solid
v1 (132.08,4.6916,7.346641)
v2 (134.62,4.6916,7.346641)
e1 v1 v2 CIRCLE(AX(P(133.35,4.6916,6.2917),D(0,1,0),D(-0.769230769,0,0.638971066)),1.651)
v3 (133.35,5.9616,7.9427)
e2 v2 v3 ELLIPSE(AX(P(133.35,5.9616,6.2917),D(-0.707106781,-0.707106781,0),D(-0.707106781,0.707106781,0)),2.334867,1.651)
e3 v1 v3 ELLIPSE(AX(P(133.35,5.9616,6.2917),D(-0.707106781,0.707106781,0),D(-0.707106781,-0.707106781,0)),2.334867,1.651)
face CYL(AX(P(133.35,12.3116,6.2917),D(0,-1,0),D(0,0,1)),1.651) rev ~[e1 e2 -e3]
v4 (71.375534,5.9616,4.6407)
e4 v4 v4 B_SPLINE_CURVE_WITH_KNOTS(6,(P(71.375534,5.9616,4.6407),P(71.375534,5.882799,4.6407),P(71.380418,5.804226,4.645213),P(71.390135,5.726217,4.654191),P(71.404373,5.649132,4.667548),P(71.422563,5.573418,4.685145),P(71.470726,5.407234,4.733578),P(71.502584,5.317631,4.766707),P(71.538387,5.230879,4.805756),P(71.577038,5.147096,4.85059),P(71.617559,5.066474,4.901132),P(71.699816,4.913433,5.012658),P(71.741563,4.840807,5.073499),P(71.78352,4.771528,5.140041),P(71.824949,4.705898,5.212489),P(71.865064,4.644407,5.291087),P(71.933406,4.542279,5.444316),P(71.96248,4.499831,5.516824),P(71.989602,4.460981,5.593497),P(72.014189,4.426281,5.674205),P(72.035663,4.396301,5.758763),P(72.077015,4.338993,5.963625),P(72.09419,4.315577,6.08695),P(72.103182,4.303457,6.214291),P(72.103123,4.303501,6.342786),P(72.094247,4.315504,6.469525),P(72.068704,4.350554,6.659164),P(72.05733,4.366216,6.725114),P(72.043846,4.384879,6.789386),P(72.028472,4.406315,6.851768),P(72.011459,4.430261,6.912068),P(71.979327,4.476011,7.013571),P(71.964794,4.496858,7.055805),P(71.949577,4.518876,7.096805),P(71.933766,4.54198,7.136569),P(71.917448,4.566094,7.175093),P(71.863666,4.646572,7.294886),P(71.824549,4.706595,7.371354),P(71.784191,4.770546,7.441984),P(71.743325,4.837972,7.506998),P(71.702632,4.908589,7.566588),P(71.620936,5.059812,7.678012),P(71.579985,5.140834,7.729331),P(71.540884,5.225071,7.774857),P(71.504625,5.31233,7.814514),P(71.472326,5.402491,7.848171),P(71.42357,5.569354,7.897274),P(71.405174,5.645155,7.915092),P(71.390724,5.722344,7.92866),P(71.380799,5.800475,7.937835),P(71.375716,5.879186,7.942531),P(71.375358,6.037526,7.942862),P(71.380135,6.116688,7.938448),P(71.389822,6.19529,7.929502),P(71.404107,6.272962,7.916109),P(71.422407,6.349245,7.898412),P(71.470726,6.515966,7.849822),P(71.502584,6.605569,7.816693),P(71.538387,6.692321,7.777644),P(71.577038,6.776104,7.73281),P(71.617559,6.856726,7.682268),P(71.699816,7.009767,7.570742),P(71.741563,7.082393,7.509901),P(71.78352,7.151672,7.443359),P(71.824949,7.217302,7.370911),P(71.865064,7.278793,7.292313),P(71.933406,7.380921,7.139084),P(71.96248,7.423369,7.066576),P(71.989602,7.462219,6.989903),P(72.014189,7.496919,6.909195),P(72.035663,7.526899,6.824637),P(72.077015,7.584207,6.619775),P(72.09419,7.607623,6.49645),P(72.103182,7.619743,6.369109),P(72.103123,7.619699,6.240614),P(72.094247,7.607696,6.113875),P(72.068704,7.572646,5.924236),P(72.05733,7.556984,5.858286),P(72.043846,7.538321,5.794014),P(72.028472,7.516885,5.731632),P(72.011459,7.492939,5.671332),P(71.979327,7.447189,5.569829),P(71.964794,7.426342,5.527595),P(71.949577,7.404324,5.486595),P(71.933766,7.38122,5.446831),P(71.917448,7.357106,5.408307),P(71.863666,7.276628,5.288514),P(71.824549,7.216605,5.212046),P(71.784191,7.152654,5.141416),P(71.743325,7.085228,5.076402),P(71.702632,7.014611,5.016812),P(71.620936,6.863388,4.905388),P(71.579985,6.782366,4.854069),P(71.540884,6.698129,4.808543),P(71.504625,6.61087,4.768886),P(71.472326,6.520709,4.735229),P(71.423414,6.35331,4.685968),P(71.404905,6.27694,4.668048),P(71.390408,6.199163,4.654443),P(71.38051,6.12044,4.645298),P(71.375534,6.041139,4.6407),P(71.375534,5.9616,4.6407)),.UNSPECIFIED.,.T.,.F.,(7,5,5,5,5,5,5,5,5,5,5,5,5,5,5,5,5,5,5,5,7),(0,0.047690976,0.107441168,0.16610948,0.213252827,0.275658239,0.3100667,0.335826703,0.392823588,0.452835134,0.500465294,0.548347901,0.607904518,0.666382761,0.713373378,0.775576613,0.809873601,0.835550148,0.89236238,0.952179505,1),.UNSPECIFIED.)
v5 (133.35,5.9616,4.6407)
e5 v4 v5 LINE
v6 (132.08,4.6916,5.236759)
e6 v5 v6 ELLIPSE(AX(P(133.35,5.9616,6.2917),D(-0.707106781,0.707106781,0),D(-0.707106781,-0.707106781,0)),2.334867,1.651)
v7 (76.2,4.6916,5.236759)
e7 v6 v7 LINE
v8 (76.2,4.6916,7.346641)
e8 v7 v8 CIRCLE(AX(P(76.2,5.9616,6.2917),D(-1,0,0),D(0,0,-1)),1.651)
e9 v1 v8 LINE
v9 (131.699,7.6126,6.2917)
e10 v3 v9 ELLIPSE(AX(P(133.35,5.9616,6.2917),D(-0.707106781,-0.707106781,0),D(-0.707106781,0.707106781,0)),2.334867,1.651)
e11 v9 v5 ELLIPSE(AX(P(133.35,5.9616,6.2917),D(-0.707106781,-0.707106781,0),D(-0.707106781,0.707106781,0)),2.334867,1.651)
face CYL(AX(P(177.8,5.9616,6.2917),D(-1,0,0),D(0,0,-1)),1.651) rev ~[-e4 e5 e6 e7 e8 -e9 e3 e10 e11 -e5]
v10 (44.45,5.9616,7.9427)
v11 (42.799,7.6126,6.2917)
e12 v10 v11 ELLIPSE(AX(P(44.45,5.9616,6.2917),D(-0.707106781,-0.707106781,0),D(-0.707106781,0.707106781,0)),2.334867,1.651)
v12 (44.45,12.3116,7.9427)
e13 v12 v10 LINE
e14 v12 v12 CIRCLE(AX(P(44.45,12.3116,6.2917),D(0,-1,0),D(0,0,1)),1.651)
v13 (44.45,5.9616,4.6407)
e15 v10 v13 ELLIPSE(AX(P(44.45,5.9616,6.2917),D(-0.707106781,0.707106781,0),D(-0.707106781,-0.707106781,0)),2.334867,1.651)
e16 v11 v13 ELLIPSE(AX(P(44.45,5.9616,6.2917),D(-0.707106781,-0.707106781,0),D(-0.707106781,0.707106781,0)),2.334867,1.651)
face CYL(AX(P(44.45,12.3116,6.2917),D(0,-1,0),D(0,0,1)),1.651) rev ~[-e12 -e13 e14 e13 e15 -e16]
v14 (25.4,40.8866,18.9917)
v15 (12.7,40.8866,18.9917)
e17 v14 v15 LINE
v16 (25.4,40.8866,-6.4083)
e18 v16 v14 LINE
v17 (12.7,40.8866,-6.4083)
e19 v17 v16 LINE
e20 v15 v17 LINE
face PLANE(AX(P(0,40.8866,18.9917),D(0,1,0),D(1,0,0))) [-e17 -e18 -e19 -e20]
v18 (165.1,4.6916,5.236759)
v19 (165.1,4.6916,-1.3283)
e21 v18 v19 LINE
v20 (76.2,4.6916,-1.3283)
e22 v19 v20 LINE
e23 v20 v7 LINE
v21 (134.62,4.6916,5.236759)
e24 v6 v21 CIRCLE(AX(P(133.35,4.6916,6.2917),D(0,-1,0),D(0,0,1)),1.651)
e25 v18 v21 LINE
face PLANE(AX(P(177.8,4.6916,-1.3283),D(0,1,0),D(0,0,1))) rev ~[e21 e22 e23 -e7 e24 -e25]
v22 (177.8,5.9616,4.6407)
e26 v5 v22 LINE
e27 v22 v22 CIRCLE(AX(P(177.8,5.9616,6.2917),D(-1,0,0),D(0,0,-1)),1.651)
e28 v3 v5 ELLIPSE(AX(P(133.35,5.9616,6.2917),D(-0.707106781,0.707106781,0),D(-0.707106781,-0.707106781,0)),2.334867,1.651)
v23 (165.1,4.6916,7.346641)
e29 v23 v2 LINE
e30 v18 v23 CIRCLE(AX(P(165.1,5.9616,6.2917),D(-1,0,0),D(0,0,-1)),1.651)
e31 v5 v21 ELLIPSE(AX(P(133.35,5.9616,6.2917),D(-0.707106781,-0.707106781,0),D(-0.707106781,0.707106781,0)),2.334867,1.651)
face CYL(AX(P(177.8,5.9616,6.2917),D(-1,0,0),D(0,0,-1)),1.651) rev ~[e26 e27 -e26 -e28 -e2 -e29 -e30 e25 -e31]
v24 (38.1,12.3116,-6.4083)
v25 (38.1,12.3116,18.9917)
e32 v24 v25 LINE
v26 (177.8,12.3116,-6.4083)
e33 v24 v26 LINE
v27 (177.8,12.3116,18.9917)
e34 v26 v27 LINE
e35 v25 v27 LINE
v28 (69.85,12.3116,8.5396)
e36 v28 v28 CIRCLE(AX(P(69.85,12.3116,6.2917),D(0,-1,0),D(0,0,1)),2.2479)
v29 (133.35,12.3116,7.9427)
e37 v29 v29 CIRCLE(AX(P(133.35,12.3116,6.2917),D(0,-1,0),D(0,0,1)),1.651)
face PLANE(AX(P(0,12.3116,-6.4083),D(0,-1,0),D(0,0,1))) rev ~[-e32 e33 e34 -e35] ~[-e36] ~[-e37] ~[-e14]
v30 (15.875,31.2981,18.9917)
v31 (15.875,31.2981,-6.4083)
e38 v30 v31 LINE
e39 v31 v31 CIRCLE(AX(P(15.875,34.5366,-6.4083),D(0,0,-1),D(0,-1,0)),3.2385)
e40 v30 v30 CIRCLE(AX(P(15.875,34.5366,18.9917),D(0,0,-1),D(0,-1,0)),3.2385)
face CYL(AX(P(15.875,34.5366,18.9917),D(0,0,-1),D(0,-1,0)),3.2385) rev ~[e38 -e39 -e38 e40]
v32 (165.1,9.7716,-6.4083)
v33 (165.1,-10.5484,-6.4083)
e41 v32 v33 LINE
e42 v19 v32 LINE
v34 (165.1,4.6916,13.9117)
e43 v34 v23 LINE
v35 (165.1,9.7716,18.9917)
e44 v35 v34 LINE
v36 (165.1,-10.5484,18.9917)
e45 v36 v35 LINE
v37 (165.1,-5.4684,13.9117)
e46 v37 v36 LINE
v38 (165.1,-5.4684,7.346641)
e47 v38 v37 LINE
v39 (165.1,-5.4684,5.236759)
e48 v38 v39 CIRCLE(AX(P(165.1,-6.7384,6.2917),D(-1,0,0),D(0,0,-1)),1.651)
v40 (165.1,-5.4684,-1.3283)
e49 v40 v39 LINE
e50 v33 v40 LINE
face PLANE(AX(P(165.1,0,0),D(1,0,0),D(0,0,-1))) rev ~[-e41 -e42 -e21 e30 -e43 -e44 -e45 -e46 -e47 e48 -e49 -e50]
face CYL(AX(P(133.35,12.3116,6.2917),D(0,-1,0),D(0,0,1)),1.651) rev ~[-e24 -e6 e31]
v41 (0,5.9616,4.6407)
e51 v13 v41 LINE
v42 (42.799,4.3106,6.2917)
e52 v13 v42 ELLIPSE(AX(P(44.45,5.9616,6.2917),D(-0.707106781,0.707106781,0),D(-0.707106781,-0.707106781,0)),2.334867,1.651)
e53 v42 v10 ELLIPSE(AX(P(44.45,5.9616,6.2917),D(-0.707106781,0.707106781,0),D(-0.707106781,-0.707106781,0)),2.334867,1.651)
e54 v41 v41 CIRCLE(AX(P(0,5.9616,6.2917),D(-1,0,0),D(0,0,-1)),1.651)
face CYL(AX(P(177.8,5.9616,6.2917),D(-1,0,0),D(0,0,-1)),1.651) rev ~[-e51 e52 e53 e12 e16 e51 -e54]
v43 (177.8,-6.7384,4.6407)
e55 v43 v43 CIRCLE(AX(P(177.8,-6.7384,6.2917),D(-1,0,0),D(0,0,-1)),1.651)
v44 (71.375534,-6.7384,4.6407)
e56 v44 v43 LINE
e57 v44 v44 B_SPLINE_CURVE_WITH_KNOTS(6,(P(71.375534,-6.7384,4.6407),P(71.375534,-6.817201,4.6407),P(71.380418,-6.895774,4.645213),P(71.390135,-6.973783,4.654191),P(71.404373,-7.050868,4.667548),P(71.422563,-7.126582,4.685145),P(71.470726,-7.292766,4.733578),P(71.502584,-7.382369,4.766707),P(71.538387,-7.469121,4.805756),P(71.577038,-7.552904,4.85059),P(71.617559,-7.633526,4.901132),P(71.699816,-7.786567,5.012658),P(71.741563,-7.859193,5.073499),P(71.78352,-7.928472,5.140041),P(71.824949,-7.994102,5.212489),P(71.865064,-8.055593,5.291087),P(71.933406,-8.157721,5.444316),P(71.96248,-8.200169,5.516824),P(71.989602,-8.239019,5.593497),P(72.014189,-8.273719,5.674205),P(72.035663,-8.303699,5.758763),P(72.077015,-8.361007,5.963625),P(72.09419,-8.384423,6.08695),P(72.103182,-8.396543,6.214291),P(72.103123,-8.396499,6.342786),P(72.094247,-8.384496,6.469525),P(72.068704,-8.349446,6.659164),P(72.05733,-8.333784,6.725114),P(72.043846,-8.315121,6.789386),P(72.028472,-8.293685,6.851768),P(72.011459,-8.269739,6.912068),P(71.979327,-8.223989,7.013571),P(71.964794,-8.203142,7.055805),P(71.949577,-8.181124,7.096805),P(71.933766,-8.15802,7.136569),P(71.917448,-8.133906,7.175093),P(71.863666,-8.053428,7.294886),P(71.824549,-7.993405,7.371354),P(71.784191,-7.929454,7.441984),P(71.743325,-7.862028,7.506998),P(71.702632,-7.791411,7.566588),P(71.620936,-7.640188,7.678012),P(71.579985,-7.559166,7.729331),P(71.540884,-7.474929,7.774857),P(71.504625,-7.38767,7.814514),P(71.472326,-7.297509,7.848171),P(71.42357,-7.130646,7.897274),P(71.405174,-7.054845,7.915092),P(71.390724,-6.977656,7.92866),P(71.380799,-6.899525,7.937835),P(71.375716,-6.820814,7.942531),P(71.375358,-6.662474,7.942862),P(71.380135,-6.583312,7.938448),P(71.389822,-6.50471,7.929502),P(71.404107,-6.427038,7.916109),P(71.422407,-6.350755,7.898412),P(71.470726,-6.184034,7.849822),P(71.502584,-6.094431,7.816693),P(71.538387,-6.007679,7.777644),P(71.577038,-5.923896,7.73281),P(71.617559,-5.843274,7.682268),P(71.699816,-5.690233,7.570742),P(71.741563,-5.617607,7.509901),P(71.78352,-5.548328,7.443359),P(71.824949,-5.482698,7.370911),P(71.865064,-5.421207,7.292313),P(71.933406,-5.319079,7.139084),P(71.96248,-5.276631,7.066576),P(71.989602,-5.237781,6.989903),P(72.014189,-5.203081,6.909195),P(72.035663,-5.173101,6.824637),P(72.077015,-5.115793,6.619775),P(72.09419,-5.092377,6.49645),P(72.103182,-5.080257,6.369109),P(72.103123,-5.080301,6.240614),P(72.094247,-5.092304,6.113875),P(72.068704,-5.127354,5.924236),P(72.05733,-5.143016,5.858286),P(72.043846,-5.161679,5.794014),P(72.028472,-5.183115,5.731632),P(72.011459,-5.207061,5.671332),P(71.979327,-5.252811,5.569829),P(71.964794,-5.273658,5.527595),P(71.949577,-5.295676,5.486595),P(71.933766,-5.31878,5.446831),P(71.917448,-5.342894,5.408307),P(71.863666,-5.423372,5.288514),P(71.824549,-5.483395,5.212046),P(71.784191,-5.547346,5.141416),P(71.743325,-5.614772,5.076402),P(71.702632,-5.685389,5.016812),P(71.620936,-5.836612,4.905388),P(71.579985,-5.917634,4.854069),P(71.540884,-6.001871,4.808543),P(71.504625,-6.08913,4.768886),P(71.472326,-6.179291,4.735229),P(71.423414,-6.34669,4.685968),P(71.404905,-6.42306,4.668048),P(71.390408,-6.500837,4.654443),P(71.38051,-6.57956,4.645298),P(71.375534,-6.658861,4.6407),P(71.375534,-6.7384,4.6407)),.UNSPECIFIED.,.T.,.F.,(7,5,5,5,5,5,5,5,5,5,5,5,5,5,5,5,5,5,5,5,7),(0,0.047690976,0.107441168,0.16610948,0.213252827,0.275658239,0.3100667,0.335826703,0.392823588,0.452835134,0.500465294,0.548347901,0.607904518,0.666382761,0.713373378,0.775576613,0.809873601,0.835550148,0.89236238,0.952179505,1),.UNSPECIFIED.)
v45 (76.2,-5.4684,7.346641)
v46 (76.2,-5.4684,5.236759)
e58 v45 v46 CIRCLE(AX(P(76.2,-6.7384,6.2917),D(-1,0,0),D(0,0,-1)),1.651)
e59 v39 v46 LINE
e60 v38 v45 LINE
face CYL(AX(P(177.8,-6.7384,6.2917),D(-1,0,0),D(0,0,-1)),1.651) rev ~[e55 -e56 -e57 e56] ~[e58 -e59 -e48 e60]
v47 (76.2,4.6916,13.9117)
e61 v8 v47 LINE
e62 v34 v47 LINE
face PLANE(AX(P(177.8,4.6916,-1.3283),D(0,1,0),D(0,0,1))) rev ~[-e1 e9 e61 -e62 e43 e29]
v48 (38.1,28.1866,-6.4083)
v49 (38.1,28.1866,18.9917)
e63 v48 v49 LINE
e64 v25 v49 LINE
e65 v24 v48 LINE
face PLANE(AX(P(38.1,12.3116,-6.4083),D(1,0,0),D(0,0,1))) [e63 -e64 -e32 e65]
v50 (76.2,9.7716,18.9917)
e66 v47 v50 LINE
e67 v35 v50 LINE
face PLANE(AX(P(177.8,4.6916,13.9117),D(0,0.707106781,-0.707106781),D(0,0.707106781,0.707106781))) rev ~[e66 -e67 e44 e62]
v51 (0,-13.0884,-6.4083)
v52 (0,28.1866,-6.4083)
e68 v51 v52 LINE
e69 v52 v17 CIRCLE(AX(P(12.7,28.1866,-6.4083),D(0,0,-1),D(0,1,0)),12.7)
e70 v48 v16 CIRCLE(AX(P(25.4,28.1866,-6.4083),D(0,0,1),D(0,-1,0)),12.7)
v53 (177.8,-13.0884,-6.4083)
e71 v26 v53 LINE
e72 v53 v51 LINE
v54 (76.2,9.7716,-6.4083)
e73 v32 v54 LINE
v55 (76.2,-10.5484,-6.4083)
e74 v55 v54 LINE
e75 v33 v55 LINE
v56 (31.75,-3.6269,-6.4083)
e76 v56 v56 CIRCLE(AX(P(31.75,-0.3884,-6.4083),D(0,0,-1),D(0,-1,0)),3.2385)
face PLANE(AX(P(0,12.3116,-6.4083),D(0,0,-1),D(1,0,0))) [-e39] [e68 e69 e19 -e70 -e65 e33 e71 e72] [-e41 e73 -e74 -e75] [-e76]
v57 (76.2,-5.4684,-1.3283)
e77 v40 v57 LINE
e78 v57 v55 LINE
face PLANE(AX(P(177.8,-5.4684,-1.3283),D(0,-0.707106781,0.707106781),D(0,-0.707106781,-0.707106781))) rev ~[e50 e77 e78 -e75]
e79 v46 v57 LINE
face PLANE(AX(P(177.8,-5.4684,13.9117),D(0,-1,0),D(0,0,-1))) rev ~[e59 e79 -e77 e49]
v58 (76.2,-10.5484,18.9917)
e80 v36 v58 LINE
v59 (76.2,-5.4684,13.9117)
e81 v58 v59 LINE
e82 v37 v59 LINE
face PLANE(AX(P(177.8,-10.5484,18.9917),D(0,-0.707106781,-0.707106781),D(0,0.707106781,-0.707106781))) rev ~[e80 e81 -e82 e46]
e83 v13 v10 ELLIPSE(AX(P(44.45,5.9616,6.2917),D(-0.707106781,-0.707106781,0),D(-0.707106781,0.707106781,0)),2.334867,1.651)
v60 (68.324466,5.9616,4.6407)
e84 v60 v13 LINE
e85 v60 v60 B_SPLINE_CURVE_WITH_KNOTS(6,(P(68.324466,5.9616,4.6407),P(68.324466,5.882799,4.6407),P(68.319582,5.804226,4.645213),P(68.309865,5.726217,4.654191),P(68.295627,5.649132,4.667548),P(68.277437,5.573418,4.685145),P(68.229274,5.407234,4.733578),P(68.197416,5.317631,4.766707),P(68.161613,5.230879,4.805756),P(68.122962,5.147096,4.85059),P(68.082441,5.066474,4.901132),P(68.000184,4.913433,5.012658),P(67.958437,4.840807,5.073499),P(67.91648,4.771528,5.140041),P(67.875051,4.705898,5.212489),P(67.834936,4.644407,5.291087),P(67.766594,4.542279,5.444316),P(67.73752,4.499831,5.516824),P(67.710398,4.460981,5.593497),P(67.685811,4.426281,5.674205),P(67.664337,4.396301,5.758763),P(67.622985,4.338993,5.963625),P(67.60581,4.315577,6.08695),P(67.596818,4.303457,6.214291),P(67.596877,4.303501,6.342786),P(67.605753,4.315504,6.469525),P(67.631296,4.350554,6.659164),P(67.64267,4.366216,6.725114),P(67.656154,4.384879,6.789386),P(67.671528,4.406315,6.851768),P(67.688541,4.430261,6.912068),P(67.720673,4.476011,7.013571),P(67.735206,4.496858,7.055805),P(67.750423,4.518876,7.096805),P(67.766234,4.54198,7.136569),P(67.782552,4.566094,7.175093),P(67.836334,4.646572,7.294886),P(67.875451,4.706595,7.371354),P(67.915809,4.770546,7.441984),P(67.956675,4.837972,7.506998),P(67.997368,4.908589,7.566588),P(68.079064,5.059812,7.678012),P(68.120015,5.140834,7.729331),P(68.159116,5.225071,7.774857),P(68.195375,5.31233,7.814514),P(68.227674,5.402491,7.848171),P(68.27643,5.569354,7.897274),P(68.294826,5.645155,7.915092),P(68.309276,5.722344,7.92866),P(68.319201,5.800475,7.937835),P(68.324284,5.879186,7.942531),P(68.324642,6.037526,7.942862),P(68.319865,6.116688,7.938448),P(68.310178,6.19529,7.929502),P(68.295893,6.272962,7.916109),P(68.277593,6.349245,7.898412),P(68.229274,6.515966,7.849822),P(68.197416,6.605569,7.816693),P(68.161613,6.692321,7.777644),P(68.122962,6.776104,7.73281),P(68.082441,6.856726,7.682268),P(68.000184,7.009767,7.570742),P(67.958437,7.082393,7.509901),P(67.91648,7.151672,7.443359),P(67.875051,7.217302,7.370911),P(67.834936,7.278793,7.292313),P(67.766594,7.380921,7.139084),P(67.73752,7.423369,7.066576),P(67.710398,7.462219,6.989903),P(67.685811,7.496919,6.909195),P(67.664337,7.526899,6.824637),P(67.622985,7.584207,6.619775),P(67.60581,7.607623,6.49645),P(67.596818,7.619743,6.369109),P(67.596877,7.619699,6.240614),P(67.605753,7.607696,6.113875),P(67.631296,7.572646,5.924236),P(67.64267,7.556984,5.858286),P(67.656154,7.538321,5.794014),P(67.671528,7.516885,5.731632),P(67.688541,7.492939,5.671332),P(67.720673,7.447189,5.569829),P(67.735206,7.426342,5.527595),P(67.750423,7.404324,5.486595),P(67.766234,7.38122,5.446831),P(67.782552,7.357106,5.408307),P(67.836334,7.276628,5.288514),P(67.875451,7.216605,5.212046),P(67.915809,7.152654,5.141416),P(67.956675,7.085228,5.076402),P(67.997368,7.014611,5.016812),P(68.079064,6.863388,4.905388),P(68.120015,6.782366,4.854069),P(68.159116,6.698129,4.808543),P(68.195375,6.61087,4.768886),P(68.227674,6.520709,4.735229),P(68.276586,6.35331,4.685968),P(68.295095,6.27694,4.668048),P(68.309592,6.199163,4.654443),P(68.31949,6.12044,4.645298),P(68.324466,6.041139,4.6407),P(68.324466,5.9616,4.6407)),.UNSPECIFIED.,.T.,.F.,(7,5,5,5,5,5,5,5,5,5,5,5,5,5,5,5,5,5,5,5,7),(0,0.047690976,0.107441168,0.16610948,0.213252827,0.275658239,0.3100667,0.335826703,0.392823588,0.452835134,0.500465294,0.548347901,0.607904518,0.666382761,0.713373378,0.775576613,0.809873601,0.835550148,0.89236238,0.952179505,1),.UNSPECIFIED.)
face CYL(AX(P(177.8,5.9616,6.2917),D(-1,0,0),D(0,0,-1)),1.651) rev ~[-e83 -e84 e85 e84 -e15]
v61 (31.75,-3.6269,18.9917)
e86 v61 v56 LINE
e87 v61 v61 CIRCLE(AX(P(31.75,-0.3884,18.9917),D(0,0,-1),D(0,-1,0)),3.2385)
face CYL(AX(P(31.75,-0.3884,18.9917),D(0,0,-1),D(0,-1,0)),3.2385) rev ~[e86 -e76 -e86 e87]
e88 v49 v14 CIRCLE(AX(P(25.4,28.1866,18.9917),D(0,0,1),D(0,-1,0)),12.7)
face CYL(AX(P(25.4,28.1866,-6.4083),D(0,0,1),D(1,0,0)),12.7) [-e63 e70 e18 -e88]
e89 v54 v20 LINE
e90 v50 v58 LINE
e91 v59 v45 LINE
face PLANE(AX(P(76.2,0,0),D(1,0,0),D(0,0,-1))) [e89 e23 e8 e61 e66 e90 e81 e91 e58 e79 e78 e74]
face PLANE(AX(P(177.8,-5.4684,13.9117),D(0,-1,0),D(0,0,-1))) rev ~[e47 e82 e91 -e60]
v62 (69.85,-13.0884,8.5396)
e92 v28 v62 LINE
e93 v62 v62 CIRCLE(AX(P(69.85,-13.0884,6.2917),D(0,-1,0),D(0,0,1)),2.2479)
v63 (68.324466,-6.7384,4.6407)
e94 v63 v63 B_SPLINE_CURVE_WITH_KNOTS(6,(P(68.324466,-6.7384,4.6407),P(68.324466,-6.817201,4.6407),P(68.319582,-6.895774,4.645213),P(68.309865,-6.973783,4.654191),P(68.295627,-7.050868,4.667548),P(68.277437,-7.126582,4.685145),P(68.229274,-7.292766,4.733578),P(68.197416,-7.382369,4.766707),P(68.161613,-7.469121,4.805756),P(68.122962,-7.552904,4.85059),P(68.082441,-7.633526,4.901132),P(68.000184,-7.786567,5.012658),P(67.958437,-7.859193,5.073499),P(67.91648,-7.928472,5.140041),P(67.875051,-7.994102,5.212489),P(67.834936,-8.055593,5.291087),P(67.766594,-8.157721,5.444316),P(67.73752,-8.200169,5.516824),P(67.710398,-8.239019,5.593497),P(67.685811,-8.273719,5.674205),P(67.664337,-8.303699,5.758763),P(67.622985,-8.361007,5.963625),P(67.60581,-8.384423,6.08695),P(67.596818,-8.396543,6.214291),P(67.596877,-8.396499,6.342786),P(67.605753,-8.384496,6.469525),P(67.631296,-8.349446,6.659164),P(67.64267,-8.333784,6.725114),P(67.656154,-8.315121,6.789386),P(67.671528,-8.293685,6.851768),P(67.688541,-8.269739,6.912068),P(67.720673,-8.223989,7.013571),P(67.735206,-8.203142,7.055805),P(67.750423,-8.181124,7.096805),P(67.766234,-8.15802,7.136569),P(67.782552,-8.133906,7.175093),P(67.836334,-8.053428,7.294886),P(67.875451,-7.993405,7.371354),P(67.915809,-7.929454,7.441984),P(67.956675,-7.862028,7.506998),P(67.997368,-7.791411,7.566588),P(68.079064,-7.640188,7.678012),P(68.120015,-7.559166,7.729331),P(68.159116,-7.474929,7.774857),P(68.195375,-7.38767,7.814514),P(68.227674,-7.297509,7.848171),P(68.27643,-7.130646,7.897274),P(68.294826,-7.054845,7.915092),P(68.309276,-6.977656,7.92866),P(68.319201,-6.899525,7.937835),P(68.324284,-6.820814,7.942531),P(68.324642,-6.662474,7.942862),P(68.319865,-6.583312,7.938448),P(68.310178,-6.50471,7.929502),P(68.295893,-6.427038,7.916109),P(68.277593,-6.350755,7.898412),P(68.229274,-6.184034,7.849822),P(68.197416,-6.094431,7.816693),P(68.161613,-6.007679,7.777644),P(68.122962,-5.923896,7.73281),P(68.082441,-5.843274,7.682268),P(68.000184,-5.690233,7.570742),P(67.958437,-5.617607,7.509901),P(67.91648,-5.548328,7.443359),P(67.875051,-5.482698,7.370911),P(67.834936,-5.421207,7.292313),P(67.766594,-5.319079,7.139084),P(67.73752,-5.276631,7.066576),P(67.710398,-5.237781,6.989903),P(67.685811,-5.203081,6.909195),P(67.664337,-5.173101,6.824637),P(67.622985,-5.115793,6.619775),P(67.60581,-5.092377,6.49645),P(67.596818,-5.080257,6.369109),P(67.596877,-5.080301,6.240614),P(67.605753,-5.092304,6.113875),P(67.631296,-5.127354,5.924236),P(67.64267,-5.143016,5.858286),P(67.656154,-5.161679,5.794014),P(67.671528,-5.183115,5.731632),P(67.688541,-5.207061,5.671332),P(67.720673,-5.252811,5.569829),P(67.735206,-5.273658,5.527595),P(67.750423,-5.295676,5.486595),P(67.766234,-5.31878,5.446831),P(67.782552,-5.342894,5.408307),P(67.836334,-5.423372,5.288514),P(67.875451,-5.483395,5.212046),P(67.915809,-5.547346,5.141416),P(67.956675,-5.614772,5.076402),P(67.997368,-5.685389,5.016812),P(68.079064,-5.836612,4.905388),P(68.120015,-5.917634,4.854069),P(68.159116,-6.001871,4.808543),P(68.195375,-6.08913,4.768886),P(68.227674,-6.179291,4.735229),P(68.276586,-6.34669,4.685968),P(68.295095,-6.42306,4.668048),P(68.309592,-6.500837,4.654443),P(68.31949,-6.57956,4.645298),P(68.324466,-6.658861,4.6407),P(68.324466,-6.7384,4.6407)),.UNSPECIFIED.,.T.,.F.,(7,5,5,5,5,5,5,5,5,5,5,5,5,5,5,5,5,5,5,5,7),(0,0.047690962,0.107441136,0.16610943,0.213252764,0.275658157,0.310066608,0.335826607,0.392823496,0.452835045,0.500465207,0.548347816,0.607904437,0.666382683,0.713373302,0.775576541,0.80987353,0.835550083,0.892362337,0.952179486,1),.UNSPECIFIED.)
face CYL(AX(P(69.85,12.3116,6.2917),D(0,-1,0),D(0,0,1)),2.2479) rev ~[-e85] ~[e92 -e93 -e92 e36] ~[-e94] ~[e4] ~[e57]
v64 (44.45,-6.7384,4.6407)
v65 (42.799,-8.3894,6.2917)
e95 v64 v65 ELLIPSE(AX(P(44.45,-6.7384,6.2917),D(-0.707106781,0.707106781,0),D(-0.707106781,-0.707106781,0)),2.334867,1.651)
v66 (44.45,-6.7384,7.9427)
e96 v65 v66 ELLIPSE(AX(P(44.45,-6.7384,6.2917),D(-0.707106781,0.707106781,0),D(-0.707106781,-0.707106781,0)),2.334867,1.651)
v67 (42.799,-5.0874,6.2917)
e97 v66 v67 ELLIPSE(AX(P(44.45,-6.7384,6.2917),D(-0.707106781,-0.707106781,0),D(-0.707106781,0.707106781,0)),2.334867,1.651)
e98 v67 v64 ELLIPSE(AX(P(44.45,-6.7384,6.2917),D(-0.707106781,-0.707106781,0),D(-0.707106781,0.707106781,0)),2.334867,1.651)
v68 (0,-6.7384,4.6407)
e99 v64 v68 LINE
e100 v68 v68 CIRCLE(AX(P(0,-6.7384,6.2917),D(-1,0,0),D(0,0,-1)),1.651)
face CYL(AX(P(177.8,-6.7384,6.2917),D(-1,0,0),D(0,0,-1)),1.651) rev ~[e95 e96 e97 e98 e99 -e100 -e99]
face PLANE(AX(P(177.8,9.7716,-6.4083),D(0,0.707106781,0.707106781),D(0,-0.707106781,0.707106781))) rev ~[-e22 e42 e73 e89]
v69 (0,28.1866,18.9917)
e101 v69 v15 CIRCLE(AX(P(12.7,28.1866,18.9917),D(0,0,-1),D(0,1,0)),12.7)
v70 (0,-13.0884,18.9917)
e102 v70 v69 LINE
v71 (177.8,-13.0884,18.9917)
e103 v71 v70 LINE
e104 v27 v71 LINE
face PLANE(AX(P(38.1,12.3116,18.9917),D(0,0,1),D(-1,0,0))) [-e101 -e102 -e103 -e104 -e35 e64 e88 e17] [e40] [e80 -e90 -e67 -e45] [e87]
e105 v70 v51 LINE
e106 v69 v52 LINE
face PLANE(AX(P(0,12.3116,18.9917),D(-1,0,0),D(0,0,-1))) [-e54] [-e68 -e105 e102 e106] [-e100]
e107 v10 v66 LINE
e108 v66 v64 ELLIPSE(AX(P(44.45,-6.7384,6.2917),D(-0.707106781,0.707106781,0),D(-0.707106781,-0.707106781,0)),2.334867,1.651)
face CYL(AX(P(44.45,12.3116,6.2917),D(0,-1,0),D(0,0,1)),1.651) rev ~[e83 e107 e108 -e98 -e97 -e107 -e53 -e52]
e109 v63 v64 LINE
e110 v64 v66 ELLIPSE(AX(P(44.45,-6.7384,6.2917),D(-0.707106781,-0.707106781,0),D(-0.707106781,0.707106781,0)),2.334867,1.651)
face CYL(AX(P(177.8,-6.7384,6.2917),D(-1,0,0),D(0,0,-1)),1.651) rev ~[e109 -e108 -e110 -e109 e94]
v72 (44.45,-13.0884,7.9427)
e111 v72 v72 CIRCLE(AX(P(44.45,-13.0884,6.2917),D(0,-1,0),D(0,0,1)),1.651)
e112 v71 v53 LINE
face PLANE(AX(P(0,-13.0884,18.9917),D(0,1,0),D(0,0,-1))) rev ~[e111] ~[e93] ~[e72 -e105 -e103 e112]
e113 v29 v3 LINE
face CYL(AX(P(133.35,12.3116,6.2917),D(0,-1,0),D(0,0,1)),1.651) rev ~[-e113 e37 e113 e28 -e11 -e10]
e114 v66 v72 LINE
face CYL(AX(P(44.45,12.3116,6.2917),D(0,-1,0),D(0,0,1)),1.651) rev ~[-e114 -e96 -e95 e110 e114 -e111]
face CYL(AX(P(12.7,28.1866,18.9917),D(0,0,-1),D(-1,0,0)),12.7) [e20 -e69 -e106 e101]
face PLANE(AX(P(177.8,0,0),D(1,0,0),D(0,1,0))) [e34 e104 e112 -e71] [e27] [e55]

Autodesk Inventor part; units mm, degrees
ref_plane "YZ Plane" through (0, 0, 0) normal (1, 0, 0) x (0, 1, 0)
ref_plane "XZ Plane" through (0, 0, 0) normal (0, 1, 0) x (-1, 0, 0)
ref_plane "XY Plane" through (0, 0, 0) normal (0, 0, 1) x (1, 0, 0)
sketch "Sketch1" plane through (0, 0, 0) normal (1, 0, 0) x (0, 1, 0)
  line L0 (12.3116, 18.9917) -> (-13.0884, 18.9917)
  line L1 (-13.0884, 18.9917) -> (-13.0884, -6.4083)
  line L2 (-13.0884, -6.4083) -> (12.3116, -6.4083)
  line L3 (12.3116, -6.4083) -> (12.3116, 18.9917)
  point P0 (0, 0)
  dimension "d0" = 25.4
  dimension "d1" = 25.4
extrude "Extrusion1" add sketch "Sketch1" along normal blind 177.8
sketch "Sketch5" plane through (177.8, 0, 0) normal (1, 0, 0) x (0, 0, -1)
  line L0 (-18.9917, -13.0884) -> (6.4083, -13.0884) projected
  line L1 (-18.9917, 12.3116) -> (-18.9917, -13.0884) projected
  point P0 (0, 0)
  point P1 (-6.2917, 5.9616)
  point P2 (-6.2917, -6.7384)
  dimension "d31" = 6.35
  dimension "d32" = 19.05
  dimension "d33" = 12.7
  dimension "d34" = 12.7
hole "Hole4" at (177.8, 5.9616, 6.2917) at (177.8, -6.7384, 6.2917) direction (-1, 0, 0) diameter 3.302 end through all thread size "8-32 UNC" class "2B" standard "ANSI Unified Screw Threads"
sketch "Sketch8" plane through (0, 12.3116, 18.9917) normal (0, 1, 0) x (1, 0, 0)
  line L0 (0, 25.4) -> (38.1, 25.4)
  line L1 (38.1, 25.4) -> (38.1, 0)
  line L2 (38.1, 0) -> (0, 0)
  line L3 (0, 0) -> (0, 25.4)
  line L4 (0, 25.4) -> (0, 0) projected
  line L5 (0, 25.4) -> (177.8, 25.4) projected
  line L6 (0, 0) -> (177.8, 0) projected
  point P0 (0, 18.9917)
  dimension "d60" = 0
  dimension "d61" = 38.1
  dimension "d62" = 0
  dimension "d63" = 0
extrude "Extrusion2" add sketch "Sketch8" along normal blind 28.575
fillet "Fillet1" radius 12.7 2 edges at (38.1, 40.8866, 6.2917) (0, 40.8866, 6.2917)
sketch "Sketch9" plane through (0, -13.0884, 18.9917) normal (0, 0, 1) x (1, 0, 0)
  line L0 (0, 41.275) -> (0, 0) projected
  line L1 (12.7, 53.975) -> (25.4, 53.975) projected
  line L2 (38.1, 25.4) -> (177.8, 25.4) projected
  point P0 (0, 13.0884)
  point P1 (15.875, 47.625)
  dimension "d67" = 15.875
  dimension "d137" = 22.225
hole "Hole7" at (15.875, 34.5366, 18.9917) direction (0, 0, -1) diameter 6.477 end through all
sketch "Sketch10" plane through (0, -13.0884, 18.9917) normal (0, 0, 1) x (1, 0, 0)
  line L0 (0, 0) -> (177.8, 0) projected
  line L1 (0, 41.275) -> (0, 0) projected
  point P0 (0, 13.0884)
  point P1 (31.75, 12.7)
  dimension "d76" = 12.7
  dimension "d77" = 31.75
hole "Hole8" at (31.75, -0.3884, 18.9917) direction (0, 0, -1) diameter 6.477 end through all
sketch "Sketch11" plane through (177.8, 12.3116, 18.9917) normal (0, 1, 0) x (1, 0, 0)
  line L0 (-177.8, 25.4) -> (-177.8, 0) projected
  line L1 (-139.7, 0) -> (0, 0) projected
  point P0 (-177.8, 18.9917)
  point P1 (-107.95, 12.7)
  dimension "d85" = 69.85
  dimension "d86" = 12.7
hole "Hole9" at (69.85, 12.3116, 6.2917) direction (0, -1, 0) diameter 4.4958 end through all clearance for "Flat Head Machine Screw (82)" size "#8" standard "Ansi Unified Screw Threads"
sketch "Sketch12" plane through (177.8, 0, 0) normal (1, 0, 0) x (0, 0, -1)
  line L0 (-18.9917, 9.7716) -> (-18.9917, -10.5484)
  line L1 (-18.9917, -10.5484) -> (-13.9117, -5.4684)
  line L2 (-13.9117, -5.4684) -> (1.3283, -5.4684)
  line L3 (1.3283, -5.4684) -> (6.4083, -10.5484)
  line L4 (6.4083, -10.5484) -> (6.4083, 9.7716)
  line L5 (6.4083, 9.7716) -> (1.3283, 4.6916)
  line L6 (1.3283, 4.6916) -> (-13.9117, 4.6916)
  line L7 (-13.9117, 4.6916) -> (-18.9917, 9.7716)
  line L8 (-18.9917, 12.3116) -> (-18.9917, -13.0884) projected
  line L9 (-18.9917, -13.0884) -> (6.4083, -13.0884) projected
  dimension "d103" = 20.32
  dimension "d104" = 5.08
  dimension "d105" = 5.08
  dimension "d106" = 5.08
  dimension "d107" = 25.4
  dimension "d108" = 5.08
  dimension "d109" = 0
  dimension "d110" = 0
  dimension "d111" = 0
  dimension "d112" = 2.54
extrude "Extrusion3" cut sketch "Sketch12" against normal blind 101.6
sketch "Sketch13" plane through (177.8, 0, 0) normal (1, 0, 0) x (0, 0, -1)
  line L0 (-18.9917, 12.3116) -> (6.4083, 12.3116)
  line L1 (6.4083, 12.3116) -> (6.4083, -13.0884)
  line L2 (6.4083, -13.0884) -> (-18.9917, -13.0884)
  line L3 (-18.9917, -13.0884) -> (-18.9917, 12.3116)
  line L4 (6.4083, 9.7716) -> (6.4083, -10.5484) projected
  line L5 (-18.9917, -13.0884) -> (6.4083, -13.0884) projected
  point P0 (0, 0)
  dimension "d115" = 25.4
  dimension "d116" = 25.4
  dimension "d117" = 0
  dimension "d118" = 0
extrude "Extrusion4" add sketch "Sketch13" against normal blind 12.7
sketch "Sketch14" plane through (177.8, 0, 0) normal (1, 0, 0) x (0, 0, -1)
  arc A0 (-5.2368, 4.6916) -> (-7.3467, 4.6916) centre (-6.2917, 5.9616) ccw projected
  arc A1 (-7.3467, -5.4684) -> (-5.2368, -5.4684) centre (-6.2917, -6.7384) ccw projected
  point P0 (0, 0)
hole "Hole10" at (177.8, 5.9616, 6.2917) at (177.8, -6.7384, 6.2917) direction (-1, 0, 0) diameter 3.302 end through all thread size "8-32 UNC" class "2B" standard "ANSI Unified Screw Threads"
sketch "Sketch15" plane through (177.8, 12.3116, 18.9917) normal (0, 1, 0) x (1, 0, 0)
  line L0 (-139.7, 25.4) -> (0, 25.4) projected
  line L1 (-139.7, 0) -> (-139.7, 25.4) projected
  point P0 (-177.8, 18.9917)
  point P1 (-133.35, 12.7)
  dimension "d128" = 12.7
  dimension "d129" = 6.35
hole "Hole11" at (44.45, 12.3116, 6.2917) direction (0, -1, 0) diameter 3.302 end through all thread size "8-32 UNC" class "2B" standard "ANSI Unified Screw Threads"
sketch "Sketch16" plane through (177.8, 12.3116, 18.9917) normal (0, 1, 0) x (1, 0, 0)
  line L0 (-12.7, 20.32) -> (-101.6, 20.32) projected
  circle A0 centre (-107.95, 12.7) radius 2.2479 projected
  line L1 (-139.7, 0) -> (0, 0) projected
  point P0 (-177.8, 18.9917)
  point P1 (-44.45, 12.7)
  dimension "d138" = 63.5
  dimension "d139" = 12.7
hole "Hole12" at (133.35, 12.3116, 6.2917) direction (0, -1, 0) diameter 3.302 depth 12.2936 tip angle 118.188 thread size "8-32 UNC" class "2B" standard "ANSI Unified Screw Threads"
properties part number "BackTopBeams"
